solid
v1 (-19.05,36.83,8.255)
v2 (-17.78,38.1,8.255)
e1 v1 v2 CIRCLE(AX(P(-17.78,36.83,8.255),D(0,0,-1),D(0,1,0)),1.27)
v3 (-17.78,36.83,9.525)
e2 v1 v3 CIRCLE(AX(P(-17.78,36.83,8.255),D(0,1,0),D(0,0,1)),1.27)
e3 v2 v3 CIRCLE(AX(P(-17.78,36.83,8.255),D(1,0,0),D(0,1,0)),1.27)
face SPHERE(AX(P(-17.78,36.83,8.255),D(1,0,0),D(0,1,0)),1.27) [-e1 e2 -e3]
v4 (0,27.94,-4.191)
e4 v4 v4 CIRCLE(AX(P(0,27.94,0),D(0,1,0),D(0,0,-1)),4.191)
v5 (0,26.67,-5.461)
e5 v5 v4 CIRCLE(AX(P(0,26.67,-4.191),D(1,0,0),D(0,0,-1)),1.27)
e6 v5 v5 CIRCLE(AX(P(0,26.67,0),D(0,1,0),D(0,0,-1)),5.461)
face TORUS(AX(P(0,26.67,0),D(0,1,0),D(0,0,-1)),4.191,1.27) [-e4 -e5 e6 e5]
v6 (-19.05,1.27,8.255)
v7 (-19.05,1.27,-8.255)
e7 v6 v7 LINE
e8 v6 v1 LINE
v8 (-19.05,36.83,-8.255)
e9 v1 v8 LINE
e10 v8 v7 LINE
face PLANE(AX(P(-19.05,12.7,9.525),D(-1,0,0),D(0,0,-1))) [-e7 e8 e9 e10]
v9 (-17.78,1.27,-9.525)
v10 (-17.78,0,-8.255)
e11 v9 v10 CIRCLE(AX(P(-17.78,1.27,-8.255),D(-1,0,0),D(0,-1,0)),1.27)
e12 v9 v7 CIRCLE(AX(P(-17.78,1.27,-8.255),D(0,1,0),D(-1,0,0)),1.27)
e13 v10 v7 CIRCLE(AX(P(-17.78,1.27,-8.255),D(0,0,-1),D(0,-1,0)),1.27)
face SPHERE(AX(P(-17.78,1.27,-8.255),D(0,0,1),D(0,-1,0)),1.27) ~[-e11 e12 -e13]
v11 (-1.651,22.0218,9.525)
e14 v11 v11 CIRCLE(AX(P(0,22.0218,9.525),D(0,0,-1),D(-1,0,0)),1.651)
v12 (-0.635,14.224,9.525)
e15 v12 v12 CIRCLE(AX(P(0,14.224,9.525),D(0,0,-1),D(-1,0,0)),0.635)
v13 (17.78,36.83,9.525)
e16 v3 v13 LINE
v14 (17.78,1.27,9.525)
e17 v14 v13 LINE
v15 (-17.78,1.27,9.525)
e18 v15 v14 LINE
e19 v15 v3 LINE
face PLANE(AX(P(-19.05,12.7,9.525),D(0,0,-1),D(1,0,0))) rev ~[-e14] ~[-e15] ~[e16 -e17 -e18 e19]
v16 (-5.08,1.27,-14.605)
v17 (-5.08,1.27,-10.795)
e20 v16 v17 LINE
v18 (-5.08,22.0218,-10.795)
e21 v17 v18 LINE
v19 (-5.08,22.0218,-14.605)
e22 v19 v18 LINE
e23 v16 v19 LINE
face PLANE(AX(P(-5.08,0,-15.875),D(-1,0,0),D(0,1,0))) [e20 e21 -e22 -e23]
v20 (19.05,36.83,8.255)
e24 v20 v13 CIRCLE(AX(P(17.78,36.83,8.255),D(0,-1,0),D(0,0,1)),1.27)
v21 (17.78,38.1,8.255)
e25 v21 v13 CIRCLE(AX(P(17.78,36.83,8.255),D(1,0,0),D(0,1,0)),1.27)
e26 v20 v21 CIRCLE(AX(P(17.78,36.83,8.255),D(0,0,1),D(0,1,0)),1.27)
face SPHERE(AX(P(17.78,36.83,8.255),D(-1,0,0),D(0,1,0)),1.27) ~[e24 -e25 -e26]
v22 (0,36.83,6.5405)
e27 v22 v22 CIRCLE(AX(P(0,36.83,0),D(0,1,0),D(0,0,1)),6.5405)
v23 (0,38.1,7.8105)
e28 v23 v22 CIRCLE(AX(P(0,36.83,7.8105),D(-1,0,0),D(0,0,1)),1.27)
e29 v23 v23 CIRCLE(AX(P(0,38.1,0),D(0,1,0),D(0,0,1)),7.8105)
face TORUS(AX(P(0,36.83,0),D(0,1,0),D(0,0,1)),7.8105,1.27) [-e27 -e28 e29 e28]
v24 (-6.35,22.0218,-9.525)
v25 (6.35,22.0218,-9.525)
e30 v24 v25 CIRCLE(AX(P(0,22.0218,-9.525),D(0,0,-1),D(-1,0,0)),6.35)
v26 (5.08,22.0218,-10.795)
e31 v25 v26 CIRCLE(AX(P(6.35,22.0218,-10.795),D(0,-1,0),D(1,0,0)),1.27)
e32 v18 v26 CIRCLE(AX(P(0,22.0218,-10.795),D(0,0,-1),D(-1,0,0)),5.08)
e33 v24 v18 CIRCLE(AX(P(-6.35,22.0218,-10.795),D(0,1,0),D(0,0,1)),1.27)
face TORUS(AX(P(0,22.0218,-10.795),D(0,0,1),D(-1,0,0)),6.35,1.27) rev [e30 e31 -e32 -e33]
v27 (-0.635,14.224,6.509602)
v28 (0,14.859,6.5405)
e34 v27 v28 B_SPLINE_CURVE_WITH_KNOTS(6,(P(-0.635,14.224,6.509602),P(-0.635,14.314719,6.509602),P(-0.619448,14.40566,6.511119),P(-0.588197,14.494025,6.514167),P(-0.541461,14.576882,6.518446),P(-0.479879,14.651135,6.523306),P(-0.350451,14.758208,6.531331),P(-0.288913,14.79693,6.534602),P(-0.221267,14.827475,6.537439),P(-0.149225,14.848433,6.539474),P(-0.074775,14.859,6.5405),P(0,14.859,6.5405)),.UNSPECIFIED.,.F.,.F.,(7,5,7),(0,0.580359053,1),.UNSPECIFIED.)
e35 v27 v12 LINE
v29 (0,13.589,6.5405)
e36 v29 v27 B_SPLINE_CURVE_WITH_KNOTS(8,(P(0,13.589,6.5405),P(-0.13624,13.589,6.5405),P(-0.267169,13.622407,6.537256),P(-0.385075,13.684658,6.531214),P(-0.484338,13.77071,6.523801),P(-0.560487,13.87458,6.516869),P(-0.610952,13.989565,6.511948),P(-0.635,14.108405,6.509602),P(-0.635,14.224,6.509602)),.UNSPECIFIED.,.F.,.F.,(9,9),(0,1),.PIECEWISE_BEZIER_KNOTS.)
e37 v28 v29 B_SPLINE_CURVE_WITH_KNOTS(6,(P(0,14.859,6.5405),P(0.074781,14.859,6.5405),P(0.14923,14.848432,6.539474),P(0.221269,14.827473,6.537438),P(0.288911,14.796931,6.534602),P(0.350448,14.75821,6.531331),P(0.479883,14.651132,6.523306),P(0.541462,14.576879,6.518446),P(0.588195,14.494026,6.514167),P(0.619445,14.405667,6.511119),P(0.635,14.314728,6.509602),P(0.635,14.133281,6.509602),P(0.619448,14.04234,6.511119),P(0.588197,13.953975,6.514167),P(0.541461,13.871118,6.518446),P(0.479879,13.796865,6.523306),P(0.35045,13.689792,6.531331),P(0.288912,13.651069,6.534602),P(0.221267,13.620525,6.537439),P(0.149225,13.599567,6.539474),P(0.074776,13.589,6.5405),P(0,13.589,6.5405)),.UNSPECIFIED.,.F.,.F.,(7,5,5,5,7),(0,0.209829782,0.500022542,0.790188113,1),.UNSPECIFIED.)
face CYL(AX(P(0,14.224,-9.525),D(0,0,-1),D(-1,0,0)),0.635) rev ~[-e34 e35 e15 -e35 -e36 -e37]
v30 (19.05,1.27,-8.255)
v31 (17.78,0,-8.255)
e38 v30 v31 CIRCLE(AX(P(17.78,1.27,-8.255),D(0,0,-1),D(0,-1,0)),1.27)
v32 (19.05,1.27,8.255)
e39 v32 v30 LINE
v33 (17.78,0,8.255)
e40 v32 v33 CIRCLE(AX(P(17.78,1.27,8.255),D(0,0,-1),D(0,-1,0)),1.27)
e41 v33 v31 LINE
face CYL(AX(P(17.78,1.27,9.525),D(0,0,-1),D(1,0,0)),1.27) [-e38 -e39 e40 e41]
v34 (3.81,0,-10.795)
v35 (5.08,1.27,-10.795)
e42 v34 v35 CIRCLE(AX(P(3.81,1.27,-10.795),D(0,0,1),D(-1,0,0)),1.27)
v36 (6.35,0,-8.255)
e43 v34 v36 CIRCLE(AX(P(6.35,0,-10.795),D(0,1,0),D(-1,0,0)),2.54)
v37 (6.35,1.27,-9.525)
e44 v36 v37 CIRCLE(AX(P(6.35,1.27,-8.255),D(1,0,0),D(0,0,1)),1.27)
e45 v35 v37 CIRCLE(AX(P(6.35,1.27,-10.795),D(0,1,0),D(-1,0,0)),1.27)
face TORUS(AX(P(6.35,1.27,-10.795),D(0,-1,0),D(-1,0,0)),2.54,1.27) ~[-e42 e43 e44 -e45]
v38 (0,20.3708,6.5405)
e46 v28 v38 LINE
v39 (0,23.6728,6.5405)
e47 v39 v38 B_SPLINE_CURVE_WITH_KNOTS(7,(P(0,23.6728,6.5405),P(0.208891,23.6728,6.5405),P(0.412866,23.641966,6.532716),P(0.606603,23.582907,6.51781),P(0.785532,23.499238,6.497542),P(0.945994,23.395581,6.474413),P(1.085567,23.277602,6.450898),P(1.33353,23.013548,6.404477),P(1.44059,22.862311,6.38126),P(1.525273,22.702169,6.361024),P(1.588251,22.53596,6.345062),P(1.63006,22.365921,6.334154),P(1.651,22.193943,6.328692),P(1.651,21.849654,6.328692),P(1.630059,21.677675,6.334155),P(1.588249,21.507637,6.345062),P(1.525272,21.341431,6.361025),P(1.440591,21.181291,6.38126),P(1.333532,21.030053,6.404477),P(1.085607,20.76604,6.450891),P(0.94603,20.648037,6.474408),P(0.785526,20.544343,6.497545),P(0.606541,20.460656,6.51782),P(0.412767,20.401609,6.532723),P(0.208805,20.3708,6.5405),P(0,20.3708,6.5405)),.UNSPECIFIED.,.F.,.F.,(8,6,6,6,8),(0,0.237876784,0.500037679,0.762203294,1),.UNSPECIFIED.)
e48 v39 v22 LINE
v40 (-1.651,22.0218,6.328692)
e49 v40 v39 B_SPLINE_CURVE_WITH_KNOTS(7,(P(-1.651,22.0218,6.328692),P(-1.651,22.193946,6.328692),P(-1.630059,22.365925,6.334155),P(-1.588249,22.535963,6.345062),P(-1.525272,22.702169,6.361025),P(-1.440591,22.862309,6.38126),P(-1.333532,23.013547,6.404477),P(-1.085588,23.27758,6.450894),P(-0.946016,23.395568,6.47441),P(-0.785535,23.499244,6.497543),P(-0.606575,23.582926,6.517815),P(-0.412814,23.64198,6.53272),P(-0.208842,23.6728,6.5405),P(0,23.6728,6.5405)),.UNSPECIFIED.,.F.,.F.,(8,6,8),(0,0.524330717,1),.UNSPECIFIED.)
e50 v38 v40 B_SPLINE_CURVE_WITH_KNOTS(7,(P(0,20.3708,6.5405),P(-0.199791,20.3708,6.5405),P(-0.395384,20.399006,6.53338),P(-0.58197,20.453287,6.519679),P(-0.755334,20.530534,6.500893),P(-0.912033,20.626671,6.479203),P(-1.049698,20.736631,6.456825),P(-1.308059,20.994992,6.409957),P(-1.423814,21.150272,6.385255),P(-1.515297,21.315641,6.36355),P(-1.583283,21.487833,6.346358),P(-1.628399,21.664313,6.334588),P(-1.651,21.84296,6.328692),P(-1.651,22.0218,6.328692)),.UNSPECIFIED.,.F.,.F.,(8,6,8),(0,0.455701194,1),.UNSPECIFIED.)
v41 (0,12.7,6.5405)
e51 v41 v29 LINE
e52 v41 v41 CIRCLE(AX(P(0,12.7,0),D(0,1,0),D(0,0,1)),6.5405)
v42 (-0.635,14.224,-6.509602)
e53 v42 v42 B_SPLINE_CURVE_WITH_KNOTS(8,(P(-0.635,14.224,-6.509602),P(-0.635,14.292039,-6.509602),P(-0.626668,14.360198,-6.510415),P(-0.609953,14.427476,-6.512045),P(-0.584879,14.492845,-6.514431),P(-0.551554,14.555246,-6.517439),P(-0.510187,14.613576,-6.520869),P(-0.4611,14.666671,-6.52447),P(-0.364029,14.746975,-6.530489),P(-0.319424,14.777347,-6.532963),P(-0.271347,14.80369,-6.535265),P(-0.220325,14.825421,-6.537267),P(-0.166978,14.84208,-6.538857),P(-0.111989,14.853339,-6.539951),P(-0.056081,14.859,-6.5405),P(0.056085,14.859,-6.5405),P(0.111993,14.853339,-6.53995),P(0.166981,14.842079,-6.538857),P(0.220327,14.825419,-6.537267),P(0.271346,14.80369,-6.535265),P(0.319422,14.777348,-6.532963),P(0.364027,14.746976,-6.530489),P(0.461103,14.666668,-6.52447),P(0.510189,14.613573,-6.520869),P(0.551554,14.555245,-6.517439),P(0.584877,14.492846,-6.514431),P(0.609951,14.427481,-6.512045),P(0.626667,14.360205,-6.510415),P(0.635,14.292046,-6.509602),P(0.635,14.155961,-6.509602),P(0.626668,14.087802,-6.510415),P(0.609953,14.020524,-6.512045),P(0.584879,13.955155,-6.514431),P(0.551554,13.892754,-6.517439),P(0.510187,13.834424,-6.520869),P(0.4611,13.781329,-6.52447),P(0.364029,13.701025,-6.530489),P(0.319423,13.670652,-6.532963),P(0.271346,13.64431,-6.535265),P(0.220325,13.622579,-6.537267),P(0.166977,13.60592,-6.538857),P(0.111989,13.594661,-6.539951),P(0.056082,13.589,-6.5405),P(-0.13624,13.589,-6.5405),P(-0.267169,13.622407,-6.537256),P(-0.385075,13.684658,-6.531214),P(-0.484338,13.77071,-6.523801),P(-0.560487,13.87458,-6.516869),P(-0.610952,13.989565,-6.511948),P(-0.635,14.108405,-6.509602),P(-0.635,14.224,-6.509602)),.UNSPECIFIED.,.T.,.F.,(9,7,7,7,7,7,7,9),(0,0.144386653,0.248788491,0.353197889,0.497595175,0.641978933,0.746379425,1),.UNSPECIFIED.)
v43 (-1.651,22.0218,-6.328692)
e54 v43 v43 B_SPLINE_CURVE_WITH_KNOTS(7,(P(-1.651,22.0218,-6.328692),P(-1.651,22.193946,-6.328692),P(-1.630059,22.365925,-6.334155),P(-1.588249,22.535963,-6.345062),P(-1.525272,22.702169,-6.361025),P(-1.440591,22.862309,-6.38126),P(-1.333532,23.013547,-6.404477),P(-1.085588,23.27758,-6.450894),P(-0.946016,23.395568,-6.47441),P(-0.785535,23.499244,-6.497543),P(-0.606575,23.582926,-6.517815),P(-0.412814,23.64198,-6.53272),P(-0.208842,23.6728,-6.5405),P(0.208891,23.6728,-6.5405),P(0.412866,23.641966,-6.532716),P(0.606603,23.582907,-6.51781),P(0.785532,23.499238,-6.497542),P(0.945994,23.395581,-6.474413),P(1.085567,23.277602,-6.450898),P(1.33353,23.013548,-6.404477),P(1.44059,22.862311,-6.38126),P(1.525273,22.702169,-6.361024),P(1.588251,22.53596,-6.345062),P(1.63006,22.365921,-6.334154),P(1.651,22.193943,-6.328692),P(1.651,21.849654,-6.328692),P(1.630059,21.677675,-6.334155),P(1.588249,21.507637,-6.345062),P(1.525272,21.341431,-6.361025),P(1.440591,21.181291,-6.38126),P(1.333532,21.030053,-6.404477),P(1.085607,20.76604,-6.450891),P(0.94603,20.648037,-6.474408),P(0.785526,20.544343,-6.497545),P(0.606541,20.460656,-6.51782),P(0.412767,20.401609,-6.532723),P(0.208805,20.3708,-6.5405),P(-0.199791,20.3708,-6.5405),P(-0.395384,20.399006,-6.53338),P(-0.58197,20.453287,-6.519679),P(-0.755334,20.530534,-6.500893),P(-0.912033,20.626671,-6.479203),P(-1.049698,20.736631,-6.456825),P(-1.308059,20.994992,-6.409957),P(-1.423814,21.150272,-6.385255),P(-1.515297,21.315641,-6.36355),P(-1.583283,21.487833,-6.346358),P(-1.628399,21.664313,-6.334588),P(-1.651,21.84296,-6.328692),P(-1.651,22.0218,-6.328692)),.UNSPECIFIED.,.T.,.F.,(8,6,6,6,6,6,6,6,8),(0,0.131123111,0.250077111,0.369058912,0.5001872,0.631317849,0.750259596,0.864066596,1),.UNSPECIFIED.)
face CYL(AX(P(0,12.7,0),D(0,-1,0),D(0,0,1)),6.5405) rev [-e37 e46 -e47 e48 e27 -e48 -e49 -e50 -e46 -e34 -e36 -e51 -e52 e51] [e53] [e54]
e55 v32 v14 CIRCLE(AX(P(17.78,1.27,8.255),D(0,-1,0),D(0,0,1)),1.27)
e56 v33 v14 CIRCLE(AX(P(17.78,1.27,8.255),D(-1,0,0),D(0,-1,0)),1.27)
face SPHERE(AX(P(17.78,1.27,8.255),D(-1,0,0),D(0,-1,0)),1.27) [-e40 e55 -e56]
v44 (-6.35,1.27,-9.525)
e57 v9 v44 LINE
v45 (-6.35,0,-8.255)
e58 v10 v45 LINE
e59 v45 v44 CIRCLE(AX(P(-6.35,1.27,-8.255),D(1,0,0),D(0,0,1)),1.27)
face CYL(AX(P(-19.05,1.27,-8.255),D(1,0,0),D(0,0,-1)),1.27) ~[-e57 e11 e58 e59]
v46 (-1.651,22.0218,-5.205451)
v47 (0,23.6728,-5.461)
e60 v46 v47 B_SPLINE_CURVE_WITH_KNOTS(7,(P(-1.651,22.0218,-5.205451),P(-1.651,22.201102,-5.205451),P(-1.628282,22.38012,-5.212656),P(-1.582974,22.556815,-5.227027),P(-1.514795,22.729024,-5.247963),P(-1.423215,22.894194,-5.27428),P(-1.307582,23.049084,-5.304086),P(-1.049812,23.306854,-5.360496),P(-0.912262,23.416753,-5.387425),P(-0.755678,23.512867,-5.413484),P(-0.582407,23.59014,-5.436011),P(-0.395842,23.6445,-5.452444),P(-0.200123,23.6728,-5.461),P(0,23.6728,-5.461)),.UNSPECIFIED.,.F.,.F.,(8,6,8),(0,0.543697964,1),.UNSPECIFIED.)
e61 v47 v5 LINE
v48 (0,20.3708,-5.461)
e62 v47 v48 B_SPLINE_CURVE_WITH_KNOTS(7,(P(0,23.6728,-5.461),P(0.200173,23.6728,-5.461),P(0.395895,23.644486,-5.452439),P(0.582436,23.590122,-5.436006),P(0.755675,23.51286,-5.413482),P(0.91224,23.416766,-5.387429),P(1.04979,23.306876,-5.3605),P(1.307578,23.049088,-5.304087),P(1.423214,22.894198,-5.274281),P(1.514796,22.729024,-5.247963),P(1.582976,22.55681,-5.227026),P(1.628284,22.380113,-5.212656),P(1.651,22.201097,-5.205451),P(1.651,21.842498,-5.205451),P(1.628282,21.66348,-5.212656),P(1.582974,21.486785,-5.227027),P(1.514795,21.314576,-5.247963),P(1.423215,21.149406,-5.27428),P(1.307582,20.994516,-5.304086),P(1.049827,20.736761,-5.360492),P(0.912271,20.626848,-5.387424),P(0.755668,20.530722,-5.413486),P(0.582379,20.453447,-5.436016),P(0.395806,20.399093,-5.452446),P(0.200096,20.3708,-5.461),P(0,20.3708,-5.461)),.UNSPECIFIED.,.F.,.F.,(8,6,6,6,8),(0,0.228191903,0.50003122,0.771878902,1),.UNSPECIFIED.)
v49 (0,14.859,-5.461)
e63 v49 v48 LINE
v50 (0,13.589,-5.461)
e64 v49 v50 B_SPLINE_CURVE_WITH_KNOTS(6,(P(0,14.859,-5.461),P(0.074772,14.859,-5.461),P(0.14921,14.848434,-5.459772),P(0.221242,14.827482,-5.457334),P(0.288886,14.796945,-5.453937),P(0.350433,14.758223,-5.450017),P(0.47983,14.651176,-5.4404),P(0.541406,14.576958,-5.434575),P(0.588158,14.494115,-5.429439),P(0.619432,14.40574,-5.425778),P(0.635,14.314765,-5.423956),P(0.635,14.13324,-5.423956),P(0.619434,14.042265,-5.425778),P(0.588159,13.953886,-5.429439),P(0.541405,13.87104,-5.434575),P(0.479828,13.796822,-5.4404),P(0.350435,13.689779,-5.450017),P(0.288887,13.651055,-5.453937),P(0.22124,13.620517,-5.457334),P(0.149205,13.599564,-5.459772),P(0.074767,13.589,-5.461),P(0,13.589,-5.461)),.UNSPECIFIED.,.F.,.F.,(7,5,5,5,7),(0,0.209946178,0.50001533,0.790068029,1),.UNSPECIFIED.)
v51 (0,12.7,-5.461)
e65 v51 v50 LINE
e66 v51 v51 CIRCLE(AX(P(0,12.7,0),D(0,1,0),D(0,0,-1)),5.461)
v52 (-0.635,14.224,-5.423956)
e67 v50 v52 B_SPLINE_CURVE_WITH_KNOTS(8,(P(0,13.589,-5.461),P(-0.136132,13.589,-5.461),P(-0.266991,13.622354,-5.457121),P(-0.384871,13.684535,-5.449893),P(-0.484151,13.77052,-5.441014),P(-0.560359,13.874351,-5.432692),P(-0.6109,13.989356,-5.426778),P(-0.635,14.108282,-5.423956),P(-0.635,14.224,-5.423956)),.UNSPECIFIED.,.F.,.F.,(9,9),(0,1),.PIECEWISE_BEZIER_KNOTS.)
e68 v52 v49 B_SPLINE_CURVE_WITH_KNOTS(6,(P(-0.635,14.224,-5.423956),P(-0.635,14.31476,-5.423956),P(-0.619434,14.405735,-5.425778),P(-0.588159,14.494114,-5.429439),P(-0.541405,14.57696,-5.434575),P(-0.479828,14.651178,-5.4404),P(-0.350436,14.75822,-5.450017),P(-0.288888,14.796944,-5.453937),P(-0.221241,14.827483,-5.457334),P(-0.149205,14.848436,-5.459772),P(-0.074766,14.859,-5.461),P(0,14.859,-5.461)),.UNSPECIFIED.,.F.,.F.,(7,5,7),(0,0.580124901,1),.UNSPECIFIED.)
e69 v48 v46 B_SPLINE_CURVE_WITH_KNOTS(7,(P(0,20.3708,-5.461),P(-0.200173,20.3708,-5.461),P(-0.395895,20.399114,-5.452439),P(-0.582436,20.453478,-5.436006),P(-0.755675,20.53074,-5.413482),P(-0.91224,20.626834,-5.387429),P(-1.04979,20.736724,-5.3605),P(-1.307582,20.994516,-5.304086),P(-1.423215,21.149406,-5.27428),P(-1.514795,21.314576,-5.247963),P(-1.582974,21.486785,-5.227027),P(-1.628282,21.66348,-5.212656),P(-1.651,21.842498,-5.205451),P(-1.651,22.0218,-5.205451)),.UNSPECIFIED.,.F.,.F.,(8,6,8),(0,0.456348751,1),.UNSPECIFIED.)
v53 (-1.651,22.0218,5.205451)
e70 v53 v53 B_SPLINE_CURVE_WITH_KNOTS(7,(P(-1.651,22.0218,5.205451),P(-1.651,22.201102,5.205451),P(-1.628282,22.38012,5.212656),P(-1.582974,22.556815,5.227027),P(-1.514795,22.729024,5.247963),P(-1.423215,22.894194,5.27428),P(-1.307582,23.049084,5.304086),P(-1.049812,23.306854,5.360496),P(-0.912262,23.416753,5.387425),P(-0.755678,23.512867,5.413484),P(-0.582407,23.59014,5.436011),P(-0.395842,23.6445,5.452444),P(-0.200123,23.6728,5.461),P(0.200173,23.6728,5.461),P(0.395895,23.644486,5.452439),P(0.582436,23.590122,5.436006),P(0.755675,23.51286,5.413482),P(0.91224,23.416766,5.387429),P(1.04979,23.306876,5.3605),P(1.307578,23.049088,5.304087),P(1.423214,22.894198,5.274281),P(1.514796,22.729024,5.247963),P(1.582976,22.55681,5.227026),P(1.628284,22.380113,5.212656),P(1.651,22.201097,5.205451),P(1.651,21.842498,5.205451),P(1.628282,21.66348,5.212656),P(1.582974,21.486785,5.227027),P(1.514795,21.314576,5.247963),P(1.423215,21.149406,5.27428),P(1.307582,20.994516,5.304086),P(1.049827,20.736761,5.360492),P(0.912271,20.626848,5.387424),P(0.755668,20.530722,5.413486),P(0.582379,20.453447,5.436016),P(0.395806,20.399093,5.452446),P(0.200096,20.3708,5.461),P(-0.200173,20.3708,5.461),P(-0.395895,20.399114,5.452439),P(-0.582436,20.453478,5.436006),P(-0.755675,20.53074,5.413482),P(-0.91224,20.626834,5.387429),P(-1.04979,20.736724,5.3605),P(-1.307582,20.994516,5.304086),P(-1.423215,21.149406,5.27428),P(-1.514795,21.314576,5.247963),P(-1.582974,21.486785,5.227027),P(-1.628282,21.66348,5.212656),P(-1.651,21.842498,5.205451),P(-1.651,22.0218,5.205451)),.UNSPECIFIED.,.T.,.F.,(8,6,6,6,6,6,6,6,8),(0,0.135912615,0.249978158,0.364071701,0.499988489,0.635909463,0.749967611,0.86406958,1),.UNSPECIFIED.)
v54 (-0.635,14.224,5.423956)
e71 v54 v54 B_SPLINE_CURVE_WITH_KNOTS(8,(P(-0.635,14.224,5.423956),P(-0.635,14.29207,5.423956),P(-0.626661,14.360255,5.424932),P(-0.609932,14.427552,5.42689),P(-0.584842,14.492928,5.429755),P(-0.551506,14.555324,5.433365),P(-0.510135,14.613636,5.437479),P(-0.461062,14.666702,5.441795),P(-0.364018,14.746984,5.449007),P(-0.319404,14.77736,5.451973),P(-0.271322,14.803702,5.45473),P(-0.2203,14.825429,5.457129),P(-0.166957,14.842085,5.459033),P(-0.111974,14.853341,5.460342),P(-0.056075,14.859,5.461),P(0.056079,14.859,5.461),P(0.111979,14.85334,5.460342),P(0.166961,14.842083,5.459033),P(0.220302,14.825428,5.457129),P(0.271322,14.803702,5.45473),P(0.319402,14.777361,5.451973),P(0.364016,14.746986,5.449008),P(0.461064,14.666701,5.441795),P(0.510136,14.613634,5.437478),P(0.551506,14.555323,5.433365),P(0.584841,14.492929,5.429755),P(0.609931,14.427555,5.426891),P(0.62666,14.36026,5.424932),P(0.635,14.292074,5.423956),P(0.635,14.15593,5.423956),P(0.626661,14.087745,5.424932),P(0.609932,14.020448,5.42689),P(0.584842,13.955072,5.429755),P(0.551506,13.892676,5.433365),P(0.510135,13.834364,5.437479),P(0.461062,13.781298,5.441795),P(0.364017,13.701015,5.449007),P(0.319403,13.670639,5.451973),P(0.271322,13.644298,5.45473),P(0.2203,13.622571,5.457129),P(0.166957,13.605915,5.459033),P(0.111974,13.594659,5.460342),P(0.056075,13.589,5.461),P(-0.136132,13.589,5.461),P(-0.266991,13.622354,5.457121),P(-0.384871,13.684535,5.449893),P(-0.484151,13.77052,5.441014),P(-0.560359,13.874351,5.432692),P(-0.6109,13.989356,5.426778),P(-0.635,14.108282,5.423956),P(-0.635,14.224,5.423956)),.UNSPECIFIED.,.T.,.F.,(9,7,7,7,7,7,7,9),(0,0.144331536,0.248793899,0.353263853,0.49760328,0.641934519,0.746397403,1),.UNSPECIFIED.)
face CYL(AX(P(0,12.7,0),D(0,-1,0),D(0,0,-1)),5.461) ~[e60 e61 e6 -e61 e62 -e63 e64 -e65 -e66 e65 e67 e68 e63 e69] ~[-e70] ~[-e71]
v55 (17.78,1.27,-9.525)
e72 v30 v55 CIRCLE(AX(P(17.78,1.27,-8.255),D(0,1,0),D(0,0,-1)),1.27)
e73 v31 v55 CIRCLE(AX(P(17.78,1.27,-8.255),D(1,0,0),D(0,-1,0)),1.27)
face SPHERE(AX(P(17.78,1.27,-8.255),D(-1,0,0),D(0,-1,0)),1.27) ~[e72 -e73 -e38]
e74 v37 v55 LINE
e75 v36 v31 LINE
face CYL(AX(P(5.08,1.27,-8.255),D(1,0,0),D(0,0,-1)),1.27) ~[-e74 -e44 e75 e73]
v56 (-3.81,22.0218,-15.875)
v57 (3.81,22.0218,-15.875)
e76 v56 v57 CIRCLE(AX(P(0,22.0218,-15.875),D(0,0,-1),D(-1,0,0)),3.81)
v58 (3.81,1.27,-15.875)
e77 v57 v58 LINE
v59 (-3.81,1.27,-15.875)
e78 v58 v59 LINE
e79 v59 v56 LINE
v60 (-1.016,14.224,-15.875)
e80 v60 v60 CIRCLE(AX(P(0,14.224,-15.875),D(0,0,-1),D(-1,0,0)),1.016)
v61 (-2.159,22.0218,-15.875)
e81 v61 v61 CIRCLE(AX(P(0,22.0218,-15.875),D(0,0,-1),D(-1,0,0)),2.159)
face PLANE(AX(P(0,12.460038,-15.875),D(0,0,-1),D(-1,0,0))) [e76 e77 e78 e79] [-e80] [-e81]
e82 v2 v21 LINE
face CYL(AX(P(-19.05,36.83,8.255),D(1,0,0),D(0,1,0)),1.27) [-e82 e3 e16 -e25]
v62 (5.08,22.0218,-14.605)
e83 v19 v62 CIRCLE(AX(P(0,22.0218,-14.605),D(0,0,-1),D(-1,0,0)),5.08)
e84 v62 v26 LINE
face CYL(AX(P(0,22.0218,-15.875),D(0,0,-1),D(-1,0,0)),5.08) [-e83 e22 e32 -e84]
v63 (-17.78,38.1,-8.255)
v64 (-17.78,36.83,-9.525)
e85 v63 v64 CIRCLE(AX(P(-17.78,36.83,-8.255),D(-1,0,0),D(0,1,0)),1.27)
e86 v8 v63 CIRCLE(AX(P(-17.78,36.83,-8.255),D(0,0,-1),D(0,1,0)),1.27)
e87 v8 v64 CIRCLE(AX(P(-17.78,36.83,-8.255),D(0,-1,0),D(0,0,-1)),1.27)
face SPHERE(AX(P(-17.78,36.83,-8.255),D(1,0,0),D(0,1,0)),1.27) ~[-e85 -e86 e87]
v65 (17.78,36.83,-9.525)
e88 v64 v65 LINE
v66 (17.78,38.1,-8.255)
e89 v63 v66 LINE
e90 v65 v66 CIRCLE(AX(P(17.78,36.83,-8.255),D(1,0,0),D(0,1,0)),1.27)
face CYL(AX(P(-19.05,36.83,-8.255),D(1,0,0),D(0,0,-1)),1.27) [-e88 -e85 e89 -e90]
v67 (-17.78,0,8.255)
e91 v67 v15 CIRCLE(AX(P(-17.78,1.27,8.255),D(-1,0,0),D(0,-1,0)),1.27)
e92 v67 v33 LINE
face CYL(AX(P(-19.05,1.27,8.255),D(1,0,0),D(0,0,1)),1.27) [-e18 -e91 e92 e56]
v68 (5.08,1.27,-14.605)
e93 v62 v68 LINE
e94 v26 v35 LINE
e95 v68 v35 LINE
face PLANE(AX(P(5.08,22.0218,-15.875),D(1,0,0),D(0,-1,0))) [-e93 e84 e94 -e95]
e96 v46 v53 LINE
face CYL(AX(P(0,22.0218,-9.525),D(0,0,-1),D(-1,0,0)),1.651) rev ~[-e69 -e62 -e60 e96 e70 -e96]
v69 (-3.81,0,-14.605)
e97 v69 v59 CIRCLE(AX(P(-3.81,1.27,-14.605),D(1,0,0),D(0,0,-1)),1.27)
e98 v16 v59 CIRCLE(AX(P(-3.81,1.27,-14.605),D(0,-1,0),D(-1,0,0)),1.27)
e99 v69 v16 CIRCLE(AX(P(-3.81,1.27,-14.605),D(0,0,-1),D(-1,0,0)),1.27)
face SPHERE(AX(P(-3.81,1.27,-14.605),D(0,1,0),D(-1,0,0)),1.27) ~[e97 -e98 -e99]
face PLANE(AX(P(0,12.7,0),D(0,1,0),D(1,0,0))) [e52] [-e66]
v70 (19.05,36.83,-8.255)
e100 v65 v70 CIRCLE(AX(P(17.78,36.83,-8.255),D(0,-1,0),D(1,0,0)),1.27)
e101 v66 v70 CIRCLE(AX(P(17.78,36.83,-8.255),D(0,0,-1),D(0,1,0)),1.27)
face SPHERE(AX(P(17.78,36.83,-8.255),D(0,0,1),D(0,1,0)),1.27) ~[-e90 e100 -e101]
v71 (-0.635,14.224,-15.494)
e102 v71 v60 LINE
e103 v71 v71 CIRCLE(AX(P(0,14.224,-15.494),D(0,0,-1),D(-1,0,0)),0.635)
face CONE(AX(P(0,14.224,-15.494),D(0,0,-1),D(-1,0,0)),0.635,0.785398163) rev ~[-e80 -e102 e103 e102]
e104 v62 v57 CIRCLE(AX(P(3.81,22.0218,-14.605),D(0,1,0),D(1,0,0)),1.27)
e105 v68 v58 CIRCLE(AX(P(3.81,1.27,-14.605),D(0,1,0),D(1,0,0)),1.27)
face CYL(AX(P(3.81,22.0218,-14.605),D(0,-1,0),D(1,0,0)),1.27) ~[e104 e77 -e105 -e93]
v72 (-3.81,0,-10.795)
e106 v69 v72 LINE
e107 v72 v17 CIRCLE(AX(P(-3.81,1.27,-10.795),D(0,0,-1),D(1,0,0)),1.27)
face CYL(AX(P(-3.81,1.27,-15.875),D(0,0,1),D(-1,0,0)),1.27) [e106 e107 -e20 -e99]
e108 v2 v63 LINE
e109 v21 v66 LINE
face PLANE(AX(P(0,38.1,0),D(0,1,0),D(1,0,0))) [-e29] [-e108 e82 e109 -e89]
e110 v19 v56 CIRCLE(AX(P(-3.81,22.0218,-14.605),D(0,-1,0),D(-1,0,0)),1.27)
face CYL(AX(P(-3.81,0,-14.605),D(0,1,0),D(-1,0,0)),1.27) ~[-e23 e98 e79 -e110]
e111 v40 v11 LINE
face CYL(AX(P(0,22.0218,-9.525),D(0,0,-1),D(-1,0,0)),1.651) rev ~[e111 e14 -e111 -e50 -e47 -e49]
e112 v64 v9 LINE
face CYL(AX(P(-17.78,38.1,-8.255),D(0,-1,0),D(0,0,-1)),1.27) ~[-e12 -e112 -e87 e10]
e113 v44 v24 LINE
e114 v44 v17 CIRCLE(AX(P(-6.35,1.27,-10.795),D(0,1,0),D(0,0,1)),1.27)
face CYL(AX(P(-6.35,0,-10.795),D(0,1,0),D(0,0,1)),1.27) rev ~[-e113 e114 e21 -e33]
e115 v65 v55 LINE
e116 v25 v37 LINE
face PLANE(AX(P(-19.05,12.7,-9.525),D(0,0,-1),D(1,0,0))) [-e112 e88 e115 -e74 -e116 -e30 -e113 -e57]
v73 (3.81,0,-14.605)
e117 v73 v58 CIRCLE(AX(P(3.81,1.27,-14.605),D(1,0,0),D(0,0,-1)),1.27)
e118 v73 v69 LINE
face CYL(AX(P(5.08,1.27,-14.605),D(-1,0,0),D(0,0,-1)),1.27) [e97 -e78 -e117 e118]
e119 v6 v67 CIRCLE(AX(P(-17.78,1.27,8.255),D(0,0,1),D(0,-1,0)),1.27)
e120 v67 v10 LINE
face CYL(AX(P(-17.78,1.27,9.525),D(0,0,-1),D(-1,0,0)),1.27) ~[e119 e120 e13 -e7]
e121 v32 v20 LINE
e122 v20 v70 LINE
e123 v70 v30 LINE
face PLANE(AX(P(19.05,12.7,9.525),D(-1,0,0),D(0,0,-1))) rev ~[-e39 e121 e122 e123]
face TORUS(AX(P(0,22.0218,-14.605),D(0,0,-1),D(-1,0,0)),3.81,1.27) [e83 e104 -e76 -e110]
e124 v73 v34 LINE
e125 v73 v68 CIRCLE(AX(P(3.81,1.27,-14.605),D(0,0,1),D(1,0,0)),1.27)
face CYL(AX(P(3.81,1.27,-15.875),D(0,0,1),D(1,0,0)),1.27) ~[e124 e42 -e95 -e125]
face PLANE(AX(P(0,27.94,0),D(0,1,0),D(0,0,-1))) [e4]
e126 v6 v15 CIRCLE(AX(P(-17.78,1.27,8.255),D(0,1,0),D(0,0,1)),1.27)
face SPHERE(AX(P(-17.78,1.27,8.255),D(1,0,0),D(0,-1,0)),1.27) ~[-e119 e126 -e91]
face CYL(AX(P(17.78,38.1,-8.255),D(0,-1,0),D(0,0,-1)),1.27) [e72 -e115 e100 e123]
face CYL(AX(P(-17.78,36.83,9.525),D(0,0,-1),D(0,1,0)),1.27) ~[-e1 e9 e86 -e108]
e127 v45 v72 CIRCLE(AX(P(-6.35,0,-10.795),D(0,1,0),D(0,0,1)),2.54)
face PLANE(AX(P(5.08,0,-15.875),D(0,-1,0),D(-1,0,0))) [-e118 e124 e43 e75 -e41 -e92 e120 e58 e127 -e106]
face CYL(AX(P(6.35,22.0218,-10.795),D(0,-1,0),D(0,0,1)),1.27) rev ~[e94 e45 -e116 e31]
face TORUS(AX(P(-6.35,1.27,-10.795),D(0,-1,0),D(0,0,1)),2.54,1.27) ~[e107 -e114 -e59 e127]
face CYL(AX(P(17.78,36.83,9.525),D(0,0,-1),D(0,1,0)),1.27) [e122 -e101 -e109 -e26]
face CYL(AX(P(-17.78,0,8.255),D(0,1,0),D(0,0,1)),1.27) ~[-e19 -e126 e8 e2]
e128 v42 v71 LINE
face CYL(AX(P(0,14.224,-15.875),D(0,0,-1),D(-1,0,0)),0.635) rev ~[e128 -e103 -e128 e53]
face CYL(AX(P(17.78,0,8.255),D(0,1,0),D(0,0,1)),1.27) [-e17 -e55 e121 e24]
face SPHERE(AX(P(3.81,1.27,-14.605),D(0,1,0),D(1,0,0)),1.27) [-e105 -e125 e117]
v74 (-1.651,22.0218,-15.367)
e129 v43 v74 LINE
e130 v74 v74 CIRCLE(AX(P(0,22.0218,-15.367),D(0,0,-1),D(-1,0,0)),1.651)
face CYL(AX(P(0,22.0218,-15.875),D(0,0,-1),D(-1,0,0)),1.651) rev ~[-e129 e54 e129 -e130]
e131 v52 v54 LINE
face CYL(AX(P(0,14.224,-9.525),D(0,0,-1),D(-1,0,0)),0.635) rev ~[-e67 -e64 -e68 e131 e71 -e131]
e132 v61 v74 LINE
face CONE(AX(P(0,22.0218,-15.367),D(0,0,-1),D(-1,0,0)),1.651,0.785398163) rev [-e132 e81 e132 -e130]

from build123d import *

# Parameters (mm, degrees)
SKETCH1_W           = 38.1
SKETCH1_H           = 19.05
BOSS_EXTRUDE1_DEPTH = 12.7
SKETCH2_W           = 38.1
SKETCH2_H           = 19.05
SKETCH2_R           = 6.5405
BOSS_EXTRUDE2_DEPTH = 25.4
SKETCH2_3_R         = 5.461
BOSS_EXTRUDE3_DEPTH = 15.24
SKETCH3_R           = 0.635
SKETCH3_R_2         = 1.651
CUT_EXTRUDE1_DEPTH  = 47.6627796
BOSS_EXTRUDE4_START = 6.35
SKETCH4_R           = 0.635
SKETCH4_R_2         = 1.651
BOSS_EXTRUDE4_DEPTH = 6.35
FILLET3_R           = 1.27
FILLET4_R           = 1.27
CHAMFER1_SIZE       = 0.381
CHAMFER2_SIZE       = 0.508


with BuildPart() as part:
    # Sketch1 → Boss-Extrude1 (new body)
    with BuildSketch(Plane(origin=(0, 0, 0), x_dir=(1, 0, 0), z_dir=(0, 1, 0))):
        Rectangle(SKETCH1_W, SKETCH1_H)
    extrude(amount=BOSS_EXTRUDE1_DEPTH)

    # Sketch2 → Boss-Extrude2 (add)
    # profile 1 of 4: a face of its own
    with BuildSketch(Plane(origin=(0, 12.7, 0), x_dir=(1, 0, 0), z_dir=(0, 1, 0))):
        Rectangle(SKETCH2_W, SKETCH2_H)
        with Locations(Location((0, 0, 0), (0, 0, 270))):
            Circle(SKETCH2_R, mode=Mode.SUBTRACT)
    # profile 2 of 4: a face of its own
    with BuildSketch(Plane(origin=(0, 12.7, 0), x_dir=(1, 0, 0), z_dir=(0, 1, 0))):
        Rectangle(SKETCH2_W, SKETCH2_H)
        with Locations(Location((0, 0, 0), (0, 0, 270))):
            Circle(SKETCH2_R, mode=Mode.SUBTRACT)
    # profile 3 of 4: a face of its own
    with BuildSketch(Plane(origin=(0, 12.7, 0), x_dir=(1, 0, 0), z_dir=(0, 1, 0))):
        Rectangle(SKETCH2_W, SKETCH2_H)
        with Locations(Location((0, 0, 0), (0, 0, 270))):
            Circle(SKETCH2_R, mode=Mode.SUBTRACT)
    # profile 4 of 4: a face of its own
    with BuildSketch(Plane(origin=(0, 12.7, 0), x_dir=(1, 0, 0), z_dir=(0, 1, 0))):
        Rectangle(SKETCH2_W, SKETCH2_H)
        with Locations(Location((0, 0, 0), (0, 0, 270))):
            Circle(SKETCH2_R, mode=Mode.SUBTRACT)
    extrude(amount=BOSS_EXTRUDE2_DEPTH)

    # Sketch2<3> → Boss-Extrude3 (add)
    with BuildSketch(Plane(origin=(0, 12.7, 0), x_dir=(1, 0, 0), z_dir=(0, 1, 0))):
        with Locations(Location((0, 0, 0), (0, 0, 90))):
            Circle(SKETCH2_3_R)
    extrude(amount=BOSS_EXTRUDE3_DEPTH)

    # Sketch3 → Cut-Extrude1 (cut, through all)
    with BuildSketch(Plane(origin=(0, 0, -9.525), x_dir=(-1, 0, 0), z_dir=(0, 0, -1))):
        with Locations((0, 14.224)):
            Circle(SKETCH3_R)
        with Locations((0, 22.0218)):
            Circle(SKETCH3_R_2)
    extrude(amount=-CUT_EXTRUDE1_DEPTH, mode=Mode.SUBTRACT)

    # Sketch4 → Boss-Extrude4 (add)
    with BuildSketch(Plane(origin=(0, 0, -9.525), x_dir=(-1, 0, 0), z_dir=(0, 0, -1)).offset(BOSS_EXTRUDE4_START)):
        with BuildLine():
            Line((5.08, 0), (5.08, 22.0218))
            ThreePointArc((5.08, 22.0218), (0, 27.1018), (-5.08, 22.0218))
            Line((-5.08, 22.0218), (-5.08, 0))
            Line((-5.08, 0), (5.08, 0))
        make_face()
        with Locations((0, 14.224)):
            Circle(SKETCH4_R, mode=Mode.SUBTRACT)
        with Locations((0, 22.0218)):
            Circle(SKETCH4_R_2, mode=Mode.SUBTRACT)
    extrude(amount=-BOSS_EXTRUDE4_DEPTH)

    # Fillet3
    fillet3_edges = [part.edges().sort_by_distance(p)[0] for p in [
        (0, 38.1, -6.5405),
        (0, 38.1, 9.525),
        (19.05, 38.1, 0),
        (0, 38.1, -9.525),
        (-19.05, 38.1, 0),
        (0, 0, 9.525),
        (-19.05, 0, 0),
        (-12.065, 0, -9.525),
        (12.065, 0, -9.525),
        (-5.08, 11.0109, -15.875),
        (-5.08, 0, -12.7),
        (0, 27.1018, -9.525),
        (5.08, 11.0109, -9.525),
        (5.08, 0, -12.7),
        (0, 27.1018, -15.875),
        (5.08, 11.0109, -15.875),
        (19.05, 0, 0),
        (0, 0, -15.875),
        (-5.08, 11.0109, -9.525),
        (19.05, 19.05, 9.525),
        (-19.05, 19.05, 9.525),
        (-19.05, 19.05, -9.525),
        (19.05, 19.05, -9.525),
    ]]
    fillet(fillet3_edges, radius=FILLET3_R)

    # Fillet4
    fillet4_edges = [part.edges().sort_by_distance(p)[0] for p in [
        (0, 27.94, 5.461),
    ]]
    fillet(fillet4_edges, radius=FILLET4_R)

    # Chamfer1
    chamfer1_edges = [part.edges().sort_by_distance(p)[0] for p in [
        (0.635, 14.224, -15.875),
    ]]
    chamfer(chamfer1_edges, length=CHAMFER1_SIZE)

    # Chamfer2
    chamfer2_edges = [part.edges().sort_by_distance(p)[0] for p in [
        (1.651, 22.0218, -15.875),
    ]]
    chamfer(chamfer2_edges, length=CHAMFER2_SIZE)


solid = part.part
